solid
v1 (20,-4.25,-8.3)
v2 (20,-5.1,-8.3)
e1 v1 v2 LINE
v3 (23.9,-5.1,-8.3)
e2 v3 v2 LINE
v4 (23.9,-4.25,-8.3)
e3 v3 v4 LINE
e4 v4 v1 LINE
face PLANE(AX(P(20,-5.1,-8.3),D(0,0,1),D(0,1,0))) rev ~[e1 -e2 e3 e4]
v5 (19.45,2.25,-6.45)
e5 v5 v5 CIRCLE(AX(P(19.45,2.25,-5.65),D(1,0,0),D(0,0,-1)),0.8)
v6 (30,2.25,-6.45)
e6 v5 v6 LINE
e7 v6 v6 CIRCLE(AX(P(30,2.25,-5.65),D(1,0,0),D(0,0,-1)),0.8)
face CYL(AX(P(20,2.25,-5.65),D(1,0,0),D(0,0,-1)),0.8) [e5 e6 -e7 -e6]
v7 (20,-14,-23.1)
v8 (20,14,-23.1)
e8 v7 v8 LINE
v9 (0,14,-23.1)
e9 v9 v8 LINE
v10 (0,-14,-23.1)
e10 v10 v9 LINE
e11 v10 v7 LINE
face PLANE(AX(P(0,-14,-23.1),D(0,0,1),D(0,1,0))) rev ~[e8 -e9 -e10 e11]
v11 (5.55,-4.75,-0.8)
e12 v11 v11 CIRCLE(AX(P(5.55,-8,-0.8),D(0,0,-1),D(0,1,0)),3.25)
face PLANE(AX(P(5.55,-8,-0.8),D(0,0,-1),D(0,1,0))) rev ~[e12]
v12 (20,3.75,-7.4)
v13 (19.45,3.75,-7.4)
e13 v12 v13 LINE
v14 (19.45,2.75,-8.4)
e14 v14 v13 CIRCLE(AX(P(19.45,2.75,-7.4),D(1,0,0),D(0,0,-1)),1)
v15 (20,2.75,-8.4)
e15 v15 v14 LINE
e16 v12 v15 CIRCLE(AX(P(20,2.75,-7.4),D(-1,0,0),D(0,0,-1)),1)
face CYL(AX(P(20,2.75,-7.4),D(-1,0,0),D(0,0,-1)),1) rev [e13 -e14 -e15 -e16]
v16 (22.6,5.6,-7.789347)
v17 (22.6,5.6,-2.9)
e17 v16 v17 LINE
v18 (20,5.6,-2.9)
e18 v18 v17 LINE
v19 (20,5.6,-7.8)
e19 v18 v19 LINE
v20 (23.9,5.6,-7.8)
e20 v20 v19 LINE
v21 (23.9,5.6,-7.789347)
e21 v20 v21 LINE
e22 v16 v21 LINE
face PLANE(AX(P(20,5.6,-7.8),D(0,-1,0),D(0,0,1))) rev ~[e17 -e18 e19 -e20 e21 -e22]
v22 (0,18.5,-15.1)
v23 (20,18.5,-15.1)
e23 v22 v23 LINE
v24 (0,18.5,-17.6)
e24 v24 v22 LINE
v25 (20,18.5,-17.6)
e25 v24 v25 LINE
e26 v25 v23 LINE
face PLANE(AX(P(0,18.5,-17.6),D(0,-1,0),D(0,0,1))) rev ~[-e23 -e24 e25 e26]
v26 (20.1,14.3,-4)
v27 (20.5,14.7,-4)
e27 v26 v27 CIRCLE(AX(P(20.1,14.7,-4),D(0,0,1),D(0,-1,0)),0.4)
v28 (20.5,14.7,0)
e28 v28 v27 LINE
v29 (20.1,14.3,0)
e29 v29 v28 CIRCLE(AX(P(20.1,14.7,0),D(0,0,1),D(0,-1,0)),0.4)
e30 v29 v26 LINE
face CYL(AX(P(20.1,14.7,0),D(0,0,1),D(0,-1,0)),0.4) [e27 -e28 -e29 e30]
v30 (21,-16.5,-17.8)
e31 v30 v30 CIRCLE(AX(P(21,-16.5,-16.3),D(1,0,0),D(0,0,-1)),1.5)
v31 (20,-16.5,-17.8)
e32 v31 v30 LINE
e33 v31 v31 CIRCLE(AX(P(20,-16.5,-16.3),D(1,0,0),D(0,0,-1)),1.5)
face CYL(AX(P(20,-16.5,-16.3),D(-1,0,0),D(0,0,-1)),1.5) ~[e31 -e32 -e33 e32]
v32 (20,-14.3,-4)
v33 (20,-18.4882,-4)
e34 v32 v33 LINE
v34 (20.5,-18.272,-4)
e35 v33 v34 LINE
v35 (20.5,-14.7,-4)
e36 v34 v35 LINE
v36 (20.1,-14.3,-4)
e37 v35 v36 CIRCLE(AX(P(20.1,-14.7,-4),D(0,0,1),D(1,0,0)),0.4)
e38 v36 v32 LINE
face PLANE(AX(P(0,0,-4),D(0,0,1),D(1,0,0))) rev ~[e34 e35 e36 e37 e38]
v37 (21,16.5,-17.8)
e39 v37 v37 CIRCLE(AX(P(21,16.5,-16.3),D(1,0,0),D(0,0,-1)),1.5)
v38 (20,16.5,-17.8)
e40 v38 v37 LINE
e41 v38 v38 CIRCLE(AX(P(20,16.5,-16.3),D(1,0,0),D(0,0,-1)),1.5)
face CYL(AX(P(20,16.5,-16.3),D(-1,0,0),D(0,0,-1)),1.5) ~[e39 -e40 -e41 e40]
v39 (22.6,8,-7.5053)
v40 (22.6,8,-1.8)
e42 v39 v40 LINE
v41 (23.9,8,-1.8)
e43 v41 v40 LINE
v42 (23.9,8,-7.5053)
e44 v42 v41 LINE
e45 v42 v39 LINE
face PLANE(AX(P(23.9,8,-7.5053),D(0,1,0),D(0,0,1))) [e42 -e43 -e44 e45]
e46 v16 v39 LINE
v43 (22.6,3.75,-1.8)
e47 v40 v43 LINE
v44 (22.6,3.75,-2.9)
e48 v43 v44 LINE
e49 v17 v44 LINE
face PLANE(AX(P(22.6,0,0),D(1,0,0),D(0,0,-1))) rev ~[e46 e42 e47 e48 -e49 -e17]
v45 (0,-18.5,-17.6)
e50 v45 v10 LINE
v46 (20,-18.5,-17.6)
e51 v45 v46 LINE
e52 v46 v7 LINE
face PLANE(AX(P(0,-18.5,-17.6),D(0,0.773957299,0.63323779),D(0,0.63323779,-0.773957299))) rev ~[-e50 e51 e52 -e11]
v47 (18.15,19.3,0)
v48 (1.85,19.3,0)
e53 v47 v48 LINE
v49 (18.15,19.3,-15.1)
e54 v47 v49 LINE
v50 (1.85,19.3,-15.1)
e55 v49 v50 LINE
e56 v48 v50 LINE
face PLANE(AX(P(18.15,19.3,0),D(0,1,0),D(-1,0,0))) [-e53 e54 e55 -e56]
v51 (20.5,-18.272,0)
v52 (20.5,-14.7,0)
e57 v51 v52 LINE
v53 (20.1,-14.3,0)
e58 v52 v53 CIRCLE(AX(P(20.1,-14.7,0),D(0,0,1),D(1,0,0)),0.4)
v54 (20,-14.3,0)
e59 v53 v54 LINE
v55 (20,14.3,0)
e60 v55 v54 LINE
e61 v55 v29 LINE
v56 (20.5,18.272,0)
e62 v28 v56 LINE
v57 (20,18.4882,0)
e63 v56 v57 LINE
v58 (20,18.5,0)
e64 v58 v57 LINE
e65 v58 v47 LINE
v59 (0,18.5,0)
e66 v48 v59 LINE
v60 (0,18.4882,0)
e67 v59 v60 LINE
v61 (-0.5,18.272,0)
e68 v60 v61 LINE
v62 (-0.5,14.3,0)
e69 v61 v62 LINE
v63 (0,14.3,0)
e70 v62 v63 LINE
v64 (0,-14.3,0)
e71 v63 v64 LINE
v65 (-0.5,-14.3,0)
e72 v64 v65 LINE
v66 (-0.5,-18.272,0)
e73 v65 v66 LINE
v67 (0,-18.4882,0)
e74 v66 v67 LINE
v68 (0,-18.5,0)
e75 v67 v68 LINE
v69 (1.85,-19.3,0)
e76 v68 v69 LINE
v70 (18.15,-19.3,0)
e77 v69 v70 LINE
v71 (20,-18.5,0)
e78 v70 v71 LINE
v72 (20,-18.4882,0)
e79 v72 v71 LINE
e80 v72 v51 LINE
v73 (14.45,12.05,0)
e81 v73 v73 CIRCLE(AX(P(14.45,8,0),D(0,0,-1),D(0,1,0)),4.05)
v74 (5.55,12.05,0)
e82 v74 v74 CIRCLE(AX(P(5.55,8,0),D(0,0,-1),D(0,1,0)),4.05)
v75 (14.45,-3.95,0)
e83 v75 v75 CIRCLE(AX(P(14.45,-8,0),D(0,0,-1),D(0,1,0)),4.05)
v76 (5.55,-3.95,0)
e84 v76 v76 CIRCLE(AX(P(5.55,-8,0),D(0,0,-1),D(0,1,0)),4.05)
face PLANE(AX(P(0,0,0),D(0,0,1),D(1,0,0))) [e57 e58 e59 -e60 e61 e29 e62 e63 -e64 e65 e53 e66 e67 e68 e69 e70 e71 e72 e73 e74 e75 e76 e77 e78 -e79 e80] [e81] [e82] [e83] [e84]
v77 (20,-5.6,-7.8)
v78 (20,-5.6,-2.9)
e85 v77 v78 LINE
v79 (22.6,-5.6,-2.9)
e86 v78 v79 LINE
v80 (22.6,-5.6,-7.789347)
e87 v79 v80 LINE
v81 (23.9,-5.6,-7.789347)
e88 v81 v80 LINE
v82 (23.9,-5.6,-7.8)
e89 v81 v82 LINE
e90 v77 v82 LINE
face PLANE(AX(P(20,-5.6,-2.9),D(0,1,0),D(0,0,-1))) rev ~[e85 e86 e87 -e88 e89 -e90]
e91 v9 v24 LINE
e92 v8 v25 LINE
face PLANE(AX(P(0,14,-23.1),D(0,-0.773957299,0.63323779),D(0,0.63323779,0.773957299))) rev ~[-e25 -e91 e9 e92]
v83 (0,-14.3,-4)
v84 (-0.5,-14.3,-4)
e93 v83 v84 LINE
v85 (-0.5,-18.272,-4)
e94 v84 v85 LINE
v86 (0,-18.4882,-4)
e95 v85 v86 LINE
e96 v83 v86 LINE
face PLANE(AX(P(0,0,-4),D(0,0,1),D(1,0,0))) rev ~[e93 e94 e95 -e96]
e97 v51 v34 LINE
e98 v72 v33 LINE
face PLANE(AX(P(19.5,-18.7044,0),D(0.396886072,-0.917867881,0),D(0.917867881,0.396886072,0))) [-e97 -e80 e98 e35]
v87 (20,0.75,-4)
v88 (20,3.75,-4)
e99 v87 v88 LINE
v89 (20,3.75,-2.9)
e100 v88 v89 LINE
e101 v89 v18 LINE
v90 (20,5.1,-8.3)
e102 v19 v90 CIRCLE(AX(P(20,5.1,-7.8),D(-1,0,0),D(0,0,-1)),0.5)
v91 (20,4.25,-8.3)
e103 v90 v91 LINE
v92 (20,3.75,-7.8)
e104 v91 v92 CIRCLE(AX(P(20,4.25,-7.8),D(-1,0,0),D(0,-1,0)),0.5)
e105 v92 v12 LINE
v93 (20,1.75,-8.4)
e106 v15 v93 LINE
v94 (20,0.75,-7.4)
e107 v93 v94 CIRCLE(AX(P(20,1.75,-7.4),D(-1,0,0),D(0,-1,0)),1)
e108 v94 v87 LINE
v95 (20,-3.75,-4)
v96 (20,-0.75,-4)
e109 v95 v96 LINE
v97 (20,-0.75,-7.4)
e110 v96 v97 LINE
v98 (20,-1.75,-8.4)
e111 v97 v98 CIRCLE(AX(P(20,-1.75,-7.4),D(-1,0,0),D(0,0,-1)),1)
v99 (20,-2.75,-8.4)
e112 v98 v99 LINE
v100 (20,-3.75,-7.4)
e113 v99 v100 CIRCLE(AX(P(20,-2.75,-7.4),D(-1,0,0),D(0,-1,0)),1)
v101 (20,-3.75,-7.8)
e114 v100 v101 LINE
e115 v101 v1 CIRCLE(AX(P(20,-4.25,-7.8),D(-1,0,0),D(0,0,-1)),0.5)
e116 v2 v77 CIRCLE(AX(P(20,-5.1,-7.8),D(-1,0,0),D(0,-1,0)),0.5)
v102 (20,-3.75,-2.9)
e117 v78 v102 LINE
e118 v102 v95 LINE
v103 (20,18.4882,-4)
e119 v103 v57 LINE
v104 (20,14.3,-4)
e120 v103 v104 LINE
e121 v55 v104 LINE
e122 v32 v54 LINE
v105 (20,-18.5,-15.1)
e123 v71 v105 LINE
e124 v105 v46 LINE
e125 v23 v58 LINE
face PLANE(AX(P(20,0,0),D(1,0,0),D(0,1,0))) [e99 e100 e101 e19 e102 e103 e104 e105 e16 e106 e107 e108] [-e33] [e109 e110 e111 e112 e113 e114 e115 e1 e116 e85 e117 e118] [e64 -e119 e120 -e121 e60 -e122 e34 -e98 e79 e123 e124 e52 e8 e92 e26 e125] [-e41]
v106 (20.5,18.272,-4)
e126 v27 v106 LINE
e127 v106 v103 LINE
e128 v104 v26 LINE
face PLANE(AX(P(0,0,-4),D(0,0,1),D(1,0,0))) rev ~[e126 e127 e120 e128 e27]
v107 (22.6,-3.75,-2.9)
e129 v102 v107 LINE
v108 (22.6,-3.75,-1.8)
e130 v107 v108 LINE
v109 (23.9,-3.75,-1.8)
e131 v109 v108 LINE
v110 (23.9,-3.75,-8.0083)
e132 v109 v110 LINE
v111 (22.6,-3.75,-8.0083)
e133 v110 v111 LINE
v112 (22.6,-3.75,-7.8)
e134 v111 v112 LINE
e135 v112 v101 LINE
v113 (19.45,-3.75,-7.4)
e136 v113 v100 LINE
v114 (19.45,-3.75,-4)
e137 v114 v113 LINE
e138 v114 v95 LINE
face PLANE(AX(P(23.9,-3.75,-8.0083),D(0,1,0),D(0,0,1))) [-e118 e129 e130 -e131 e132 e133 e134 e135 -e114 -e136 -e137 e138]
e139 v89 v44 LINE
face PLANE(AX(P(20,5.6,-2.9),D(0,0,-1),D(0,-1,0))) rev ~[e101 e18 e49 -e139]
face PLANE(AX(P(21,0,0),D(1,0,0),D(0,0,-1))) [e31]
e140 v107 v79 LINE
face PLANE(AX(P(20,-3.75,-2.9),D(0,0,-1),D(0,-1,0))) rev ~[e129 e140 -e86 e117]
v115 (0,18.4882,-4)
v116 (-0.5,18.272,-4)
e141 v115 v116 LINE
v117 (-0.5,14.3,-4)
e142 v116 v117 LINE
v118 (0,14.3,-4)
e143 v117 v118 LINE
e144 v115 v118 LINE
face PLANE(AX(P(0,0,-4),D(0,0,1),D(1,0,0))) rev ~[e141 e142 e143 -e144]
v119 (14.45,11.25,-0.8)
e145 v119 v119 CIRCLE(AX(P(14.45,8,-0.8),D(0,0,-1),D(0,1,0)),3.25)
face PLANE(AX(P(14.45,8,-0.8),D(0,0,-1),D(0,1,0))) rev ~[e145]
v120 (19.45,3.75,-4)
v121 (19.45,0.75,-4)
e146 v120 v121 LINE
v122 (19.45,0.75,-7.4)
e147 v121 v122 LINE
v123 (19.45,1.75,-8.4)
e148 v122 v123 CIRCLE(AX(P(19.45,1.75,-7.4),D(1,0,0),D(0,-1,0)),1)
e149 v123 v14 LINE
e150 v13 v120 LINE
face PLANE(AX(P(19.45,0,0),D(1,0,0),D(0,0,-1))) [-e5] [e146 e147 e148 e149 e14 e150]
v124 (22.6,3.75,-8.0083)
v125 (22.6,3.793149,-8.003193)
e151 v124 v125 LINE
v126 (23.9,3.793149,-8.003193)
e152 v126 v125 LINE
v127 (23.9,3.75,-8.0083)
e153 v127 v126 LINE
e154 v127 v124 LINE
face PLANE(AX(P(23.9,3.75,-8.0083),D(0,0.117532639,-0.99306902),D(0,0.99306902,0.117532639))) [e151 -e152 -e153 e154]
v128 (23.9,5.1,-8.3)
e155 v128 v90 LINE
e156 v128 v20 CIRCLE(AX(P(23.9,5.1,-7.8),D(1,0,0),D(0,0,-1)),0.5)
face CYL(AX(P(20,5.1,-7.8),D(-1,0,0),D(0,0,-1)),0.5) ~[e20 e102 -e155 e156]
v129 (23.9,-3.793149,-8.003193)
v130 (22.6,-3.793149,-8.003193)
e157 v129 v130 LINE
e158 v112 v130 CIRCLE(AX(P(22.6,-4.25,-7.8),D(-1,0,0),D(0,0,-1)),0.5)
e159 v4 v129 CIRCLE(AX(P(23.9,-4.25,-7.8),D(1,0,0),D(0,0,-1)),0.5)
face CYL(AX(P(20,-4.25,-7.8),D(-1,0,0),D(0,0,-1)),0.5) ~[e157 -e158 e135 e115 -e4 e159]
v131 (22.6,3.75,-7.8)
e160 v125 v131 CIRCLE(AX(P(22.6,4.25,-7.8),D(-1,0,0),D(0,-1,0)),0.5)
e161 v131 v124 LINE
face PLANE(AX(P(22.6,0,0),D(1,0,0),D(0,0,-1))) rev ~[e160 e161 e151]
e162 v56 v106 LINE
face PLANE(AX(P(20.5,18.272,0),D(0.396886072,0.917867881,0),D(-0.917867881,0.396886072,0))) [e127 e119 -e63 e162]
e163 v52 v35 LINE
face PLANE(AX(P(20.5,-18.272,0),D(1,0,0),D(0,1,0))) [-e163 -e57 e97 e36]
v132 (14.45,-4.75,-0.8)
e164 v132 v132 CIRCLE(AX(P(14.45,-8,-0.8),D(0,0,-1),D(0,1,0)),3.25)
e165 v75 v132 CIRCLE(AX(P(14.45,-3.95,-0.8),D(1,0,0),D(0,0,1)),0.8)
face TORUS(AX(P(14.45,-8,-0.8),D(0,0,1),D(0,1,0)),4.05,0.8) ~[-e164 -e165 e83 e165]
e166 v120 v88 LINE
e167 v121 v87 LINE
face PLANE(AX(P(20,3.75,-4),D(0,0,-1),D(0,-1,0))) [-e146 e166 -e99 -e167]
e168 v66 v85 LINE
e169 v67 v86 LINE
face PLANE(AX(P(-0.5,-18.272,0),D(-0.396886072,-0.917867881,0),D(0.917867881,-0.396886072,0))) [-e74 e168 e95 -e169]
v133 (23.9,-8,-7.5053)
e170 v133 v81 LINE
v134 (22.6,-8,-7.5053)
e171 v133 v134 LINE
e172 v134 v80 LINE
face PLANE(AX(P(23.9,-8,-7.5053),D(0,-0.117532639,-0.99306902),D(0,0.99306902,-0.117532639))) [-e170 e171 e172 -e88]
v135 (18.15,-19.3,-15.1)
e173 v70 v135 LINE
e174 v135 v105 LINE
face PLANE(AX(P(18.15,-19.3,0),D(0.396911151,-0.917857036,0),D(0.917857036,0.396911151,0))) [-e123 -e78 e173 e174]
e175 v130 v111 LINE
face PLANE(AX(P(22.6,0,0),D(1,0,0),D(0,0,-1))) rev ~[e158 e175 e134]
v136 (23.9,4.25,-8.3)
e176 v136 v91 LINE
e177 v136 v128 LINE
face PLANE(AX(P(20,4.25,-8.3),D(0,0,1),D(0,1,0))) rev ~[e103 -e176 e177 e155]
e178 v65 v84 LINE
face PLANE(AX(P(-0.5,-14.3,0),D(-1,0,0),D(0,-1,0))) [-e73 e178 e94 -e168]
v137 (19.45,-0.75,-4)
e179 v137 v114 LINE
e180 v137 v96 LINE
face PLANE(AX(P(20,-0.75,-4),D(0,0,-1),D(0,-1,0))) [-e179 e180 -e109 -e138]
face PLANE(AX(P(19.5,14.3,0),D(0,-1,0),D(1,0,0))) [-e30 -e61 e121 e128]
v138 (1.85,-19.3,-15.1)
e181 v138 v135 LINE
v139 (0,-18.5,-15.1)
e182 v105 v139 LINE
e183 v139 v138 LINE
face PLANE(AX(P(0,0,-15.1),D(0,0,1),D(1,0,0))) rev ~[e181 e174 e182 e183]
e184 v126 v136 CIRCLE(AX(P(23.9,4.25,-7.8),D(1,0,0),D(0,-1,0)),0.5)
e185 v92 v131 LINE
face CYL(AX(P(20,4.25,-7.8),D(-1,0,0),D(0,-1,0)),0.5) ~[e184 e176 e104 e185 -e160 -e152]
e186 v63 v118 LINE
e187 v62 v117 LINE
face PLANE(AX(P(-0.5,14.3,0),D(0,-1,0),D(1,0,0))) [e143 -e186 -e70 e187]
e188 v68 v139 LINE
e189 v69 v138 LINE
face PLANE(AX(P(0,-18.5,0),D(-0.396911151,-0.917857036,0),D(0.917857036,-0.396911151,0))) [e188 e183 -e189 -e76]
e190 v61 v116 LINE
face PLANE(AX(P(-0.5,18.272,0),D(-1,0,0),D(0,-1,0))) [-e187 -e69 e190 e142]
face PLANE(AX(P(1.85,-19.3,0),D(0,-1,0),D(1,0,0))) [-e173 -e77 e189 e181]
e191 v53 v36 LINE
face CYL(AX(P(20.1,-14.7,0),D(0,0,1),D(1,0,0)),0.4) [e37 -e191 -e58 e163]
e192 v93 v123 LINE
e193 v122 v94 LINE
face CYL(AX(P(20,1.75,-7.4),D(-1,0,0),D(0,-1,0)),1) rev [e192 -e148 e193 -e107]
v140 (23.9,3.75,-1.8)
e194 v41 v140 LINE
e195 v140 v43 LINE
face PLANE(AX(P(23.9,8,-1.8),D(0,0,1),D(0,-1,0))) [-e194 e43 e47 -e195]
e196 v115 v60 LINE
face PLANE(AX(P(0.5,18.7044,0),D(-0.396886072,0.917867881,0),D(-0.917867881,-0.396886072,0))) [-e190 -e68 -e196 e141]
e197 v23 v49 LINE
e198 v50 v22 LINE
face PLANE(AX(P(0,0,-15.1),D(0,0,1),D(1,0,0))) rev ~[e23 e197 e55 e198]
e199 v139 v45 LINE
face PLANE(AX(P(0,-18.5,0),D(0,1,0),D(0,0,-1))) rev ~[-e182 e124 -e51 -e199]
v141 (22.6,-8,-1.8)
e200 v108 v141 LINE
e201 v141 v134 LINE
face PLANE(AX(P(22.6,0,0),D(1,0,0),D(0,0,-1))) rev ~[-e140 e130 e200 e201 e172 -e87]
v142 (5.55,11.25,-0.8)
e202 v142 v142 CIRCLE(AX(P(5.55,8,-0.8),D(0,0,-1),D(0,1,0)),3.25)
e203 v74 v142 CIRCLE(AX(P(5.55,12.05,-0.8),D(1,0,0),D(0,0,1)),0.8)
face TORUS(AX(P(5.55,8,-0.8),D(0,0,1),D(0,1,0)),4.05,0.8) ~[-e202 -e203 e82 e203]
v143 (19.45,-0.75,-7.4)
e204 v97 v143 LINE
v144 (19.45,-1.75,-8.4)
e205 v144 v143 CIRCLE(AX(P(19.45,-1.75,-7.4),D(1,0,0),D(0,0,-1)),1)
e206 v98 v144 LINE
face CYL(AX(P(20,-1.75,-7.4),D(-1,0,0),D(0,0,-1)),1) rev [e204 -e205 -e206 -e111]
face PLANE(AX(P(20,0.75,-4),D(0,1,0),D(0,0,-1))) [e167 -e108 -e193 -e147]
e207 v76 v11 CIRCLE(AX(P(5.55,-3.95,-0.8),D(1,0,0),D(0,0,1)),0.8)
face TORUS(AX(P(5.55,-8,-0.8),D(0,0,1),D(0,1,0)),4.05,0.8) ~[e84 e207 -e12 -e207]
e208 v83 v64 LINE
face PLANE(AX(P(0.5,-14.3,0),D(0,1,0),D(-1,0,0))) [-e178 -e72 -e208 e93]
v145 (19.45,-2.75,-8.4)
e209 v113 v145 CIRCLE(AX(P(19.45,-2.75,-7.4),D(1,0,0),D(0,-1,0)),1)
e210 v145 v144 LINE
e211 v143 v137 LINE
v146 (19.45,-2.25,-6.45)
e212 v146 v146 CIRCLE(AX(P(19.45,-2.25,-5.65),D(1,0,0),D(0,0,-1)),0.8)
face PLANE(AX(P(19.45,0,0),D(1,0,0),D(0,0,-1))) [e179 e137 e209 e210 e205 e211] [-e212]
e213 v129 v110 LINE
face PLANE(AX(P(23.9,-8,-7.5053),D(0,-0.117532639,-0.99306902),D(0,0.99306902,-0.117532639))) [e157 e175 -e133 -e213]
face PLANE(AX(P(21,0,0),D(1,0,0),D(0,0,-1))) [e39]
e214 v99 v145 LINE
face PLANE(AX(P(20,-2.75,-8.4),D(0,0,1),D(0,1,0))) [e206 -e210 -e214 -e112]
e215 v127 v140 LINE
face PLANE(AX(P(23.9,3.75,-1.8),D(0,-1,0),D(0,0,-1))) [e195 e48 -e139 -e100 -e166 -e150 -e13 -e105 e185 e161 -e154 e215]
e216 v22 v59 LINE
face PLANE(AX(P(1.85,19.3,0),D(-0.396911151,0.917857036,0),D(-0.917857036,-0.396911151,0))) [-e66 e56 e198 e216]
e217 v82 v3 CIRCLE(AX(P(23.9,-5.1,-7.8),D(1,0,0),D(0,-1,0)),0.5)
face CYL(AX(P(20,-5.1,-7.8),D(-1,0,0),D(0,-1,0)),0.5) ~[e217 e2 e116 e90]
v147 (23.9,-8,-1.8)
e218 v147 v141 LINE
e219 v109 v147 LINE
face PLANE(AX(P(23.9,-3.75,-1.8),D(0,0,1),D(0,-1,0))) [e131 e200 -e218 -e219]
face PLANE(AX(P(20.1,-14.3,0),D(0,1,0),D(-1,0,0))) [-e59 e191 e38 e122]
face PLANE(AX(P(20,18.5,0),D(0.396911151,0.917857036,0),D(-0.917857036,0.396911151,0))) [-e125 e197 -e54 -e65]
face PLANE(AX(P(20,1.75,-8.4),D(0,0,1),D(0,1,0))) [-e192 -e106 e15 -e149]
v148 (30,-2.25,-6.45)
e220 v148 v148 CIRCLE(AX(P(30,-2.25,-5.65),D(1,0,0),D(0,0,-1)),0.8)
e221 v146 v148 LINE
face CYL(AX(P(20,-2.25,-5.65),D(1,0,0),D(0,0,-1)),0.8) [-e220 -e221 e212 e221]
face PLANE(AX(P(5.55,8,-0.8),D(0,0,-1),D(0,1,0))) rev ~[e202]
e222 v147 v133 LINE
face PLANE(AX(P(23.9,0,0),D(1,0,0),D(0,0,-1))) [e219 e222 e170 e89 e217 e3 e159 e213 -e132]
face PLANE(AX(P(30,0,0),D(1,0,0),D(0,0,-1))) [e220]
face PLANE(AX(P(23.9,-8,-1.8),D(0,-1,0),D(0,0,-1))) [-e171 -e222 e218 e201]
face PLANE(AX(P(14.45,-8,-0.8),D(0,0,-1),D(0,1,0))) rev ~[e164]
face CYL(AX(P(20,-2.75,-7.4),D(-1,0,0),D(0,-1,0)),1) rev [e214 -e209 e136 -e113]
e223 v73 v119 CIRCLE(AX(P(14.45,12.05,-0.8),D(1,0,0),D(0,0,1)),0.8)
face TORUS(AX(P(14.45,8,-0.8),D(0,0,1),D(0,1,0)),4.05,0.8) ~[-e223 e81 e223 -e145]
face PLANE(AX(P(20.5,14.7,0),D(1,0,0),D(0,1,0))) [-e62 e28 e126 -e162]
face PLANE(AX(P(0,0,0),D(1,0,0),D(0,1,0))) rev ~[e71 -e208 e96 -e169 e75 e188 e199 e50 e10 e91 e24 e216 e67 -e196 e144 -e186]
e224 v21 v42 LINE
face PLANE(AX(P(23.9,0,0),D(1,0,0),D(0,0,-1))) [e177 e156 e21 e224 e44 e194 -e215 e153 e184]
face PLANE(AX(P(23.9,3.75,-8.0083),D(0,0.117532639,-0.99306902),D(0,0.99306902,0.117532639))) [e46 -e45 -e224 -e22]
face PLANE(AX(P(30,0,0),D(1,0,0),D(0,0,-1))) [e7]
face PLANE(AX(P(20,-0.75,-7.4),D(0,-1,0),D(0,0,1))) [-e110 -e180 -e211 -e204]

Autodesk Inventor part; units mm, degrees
sketch "Sketch_1" plane through (0, 0, 0) normal (1, 0, 0) x (0, 1, 0)
  line L0 (-18.5, 0) -> (-18.5, -17.6)
  line L1 (-18.5, -17.6) -> (-14, -23.1)
  line L2 (-14, -23.1) -> (14, -23.1)
  line L3 (14, -23.1) -> (18.5, -17.6)
  line L4 (18.5, -17.6) -> (18.5, 0)
  line L5 (18.5, 0) -> (-18.5, 0)
extrude "Extrusion1" add sketch "Sketch_1" along normal blind 20
sketch "Sketch_2" plane through (0, 0, 0) normal (0, 0, 1) x (1, 0, 0)
  line L0 (0, 18.5) -> (20, 18.5)
  line L1 (20, 18.5) -> (18.15, 19.3)
  line L2 (18.15, 19.3) -> (1.85, 19.3)
  line L3 (1.85, 19.3) -> (0, 18.5)
extrude "Extrusion2" add sketch "Sketch_2" against normal blind 15.1
sketch "Sketch_3" plane through (0, 0, 0) normal (0, 0, 1) x (1, 0, 0)
  line L0 (0, -18.5) -> (1.85, -19.3)
  line L1 (1.85, -19.3) -> (18.15, -19.3)
  line L2 (18.15, -19.3) -> (20, -18.5)
  line L3 (20, -18.5) -> (0, -18.5)
extrude "Extrusion3" add sketch "Sketch_3" against normal blind 15.1
sketch "Sketch_4" plane through (0, 0, 0) normal (0, 0, 1) x (1, 0, 0)
  line L0 (-0.5, 18.272) -> (-0.5, 14.3)
  line L1 (-0.5, 14.3) -> (0.5, 14.3)
  line L2 (0.5, 14.3) -> (0.5, 18.7044)
  line L3 (0.5, 18.7044) -> (-0.5, 18.272)
extrude "Extrusion4" add sketch "Sketch_4" against normal blind 4
sketch "Sketch_5" plane through (0, 0, 0) normal (0, 0, 1) x (1, 0, 0)
  line L0 (19.5, 18.7044) -> (19.5, 14.3)
  line L1 (19.5, 14.3) -> (20.1, 14.3)
  arc A0 (20.1, 14.3) -> (20.5, 14.7) centre (20.1, 14.7) ccw
  line L2 (20.5, 14.7) -> (20.5, 18.272)
  line L3 (20.5, 18.272) -> (19.5, 18.7044)
extrude "Extrusion5" add sketch "Sketch_5" against normal blind 4
sketch "Sketch_6" plane through (0, 0, 0) normal (0, 0, 1) x (1, 0, 0)
  line L0 (-0.5, -18.272) -> (0.5, -18.7044)
  line L1 (0.5, -18.7044) -> (0.5, -14.3)
  line L2 (0.5, -14.3) -> (-0.5, -14.3)
  line L3 (-0.5, -14.3) -> (-0.5, -18.272)
extrude "Extrusion6" add sketch "Sketch_6" against normal blind 4
sketch "Sketch_7" plane through (0, 0, 0) normal (0, 0, 1) x (1, 0, 0)
  line L0 (19.5, -18.7044) -> (20.5, -18.272)
  line L1 (20.5, -18.272) -> (20.5, -14.7)
  arc A0 (20.5, -14.7) -> (20.1, -14.3) centre (20.1, -14.7) ccw
  line L2 (20.1, -14.3) -> (19.5, -14.3)
  line L3 (19.5, -14.3) -> (19.5, -18.7044)
extrude "Extrusion7" add sketch "Sketch_7" against normal blind 4
sketch "Sketch_8" plane through (20, 0, 0) normal (1, 0, 0) x (0, 0, -1)
  circle A0 centre (16.3, 16.5) radius 1.5
extrude "Extrusion8" add sketch "Sketch_8" along normal mid plane 2
sketch "Sketch_9" plane through (20, 0, 0) normal (1, 0, 0) x (0, 0, -1)
  circle A0 centre (16.3, -16.5) radius 1.5
extrude "Extrusion9" add sketch "Sketch_9" along normal mid plane 2
sketch "Sketch_10" plane through (5.55, 0, 0) normal (1, 0, 0) x (0, 0, -1)
  line L0 (0.8, 8) -> (-1.2, 8)
  line L1 (-1.2, 8) -> (-1.2, 12.05)
  line L2 (-1.2, 12.05) -> (0, 12.05)
  arc A0 (0, 12.05) -> (0.8, 11.25) centre (0.8, 12.05) ccw
  line L3 (0.8, 11.25) -> (0.8, 8)
  line L4 (0.8, 8) -> (-1.2, 8)
revolve "Revolution1" cut sketch "Sketch_10" angle 360 about axis through (5.55, 8, -0.8) along (0, 0, -1)
sketch "Sketch_11" plane through (14.45, 0, 0) normal (1, 0, 0) x (0, 0, -1)
  line L0 (0.8, 8) -> (-1.2, 8)
  line L1 (-1.2, 8) -> (-1.2, 12.05)
  line L2 (-1.2, 12.05) -> (0, 12.05)
  arc A0 (0, 12.05) -> (0.8, 11.25) centre (0.8, 12.05) ccw
  line L3 (0.8, 11.25) -> (0.8, 8)
  line L4 (0.8, 8) -> (-1.2, 8)
revolve "Revolution2" cut sketch "Sketch_11" angle 360 about axis through (14.45, 8, -0.8) along (0, 0, -1)
sketch "Sketch_12" plane through (5.55, 0, 0) normal (1, 0, 0) x (0, 0, -1)
  line L0 (0.8, -8) -> (-1.2, -8)
  line L1 (-1.2, -8) -> (-1.2, -3.95)
  line L2 (-1.2, -3.95) -> (0, -3.95)
  arc A0 (0, -3.95) -> (0.8, -4.75) centre (0.8, -3.95) ccw
  line L3 (0.8, -4.75) -> (0.8, -8)
  line L4 (0.8, -8) -> (-1.2, -8)
revolve "Revolution3" cut sketch "Sketch_12" angle 360 about axis through (5.55, -8, -0.8) along (0, 0, -1)
sketch "Sketch_13" plane through (14.45, 0, 0) normal (1, 0, 0) x (0, 0, -1)
  line L0 (0.8, -8) -> (-1.2, -8)
  line L1 (-1.2, -8) -> (-1.2, -3.95)
  line L2 (-1.2, -3.95) -> (0, -3.95)
  arc A0 (0, -3.95) -> (0.8, -4.75) centre (0.8, -3.95) ccw
  line L3 (0.8, -4.75) -> (0.8, -8)
  line L4 (0.8, -8) -> (-1.2, -8)
revolve "Revolution4" cut sketch "Sketch_13" angle 360 about axis through (14.45, -8, -0.8) along (0, 0, -1)
sketch "Sketch_14" plane through (20, 0, 0) normal (1, 0, 0) x (0, 0, -1)
  line L0 (2.9, 5.6) -> (2.9, 3.75)
  line L1 (2.9, 3.75) -> (7.8, 3.75)
  arc A0 (7.8, 3.75) -> (8.3, 4.25) centre (7.8, 4.25) ccw
  line L2 (8.3, 4.25) -> (8.3, 5.1)
  arc A1 (8.3, 5.1) -> (7.8, 5.6) centre (7.8, 5.1) ccw
  line L3 (7.8, 5.6) -> (2.9, 5.6)
extrude "Extrusion10" add sketch "Sketch_14" along normal mid plane 7.8
sketch "Sketch_15" plane through (20, 0, 0) normal (1, 0, 0) x (0, 0, -1)
  line L0 (2.9, -3.75) -> (2.9, -5.6)
  line L1 (2.9, -5.6) -> (7.8, -5.6)
  arc A0 (7.8, -5.6) -> (8.3, -5.1) centre (7.8, -5.1) ccw
  line L2 (8.3, -5.1) -> (8.3, -4.25)
  arc A1 (8.3, -4.25) -> (7.8, -3.75) centre (7.8, -4.25) ccw
  line L3 (7.8, -3.75) -> (2.9, -3.75)
extrude "Extrusion11" add sketch "Sketch_15" along normal mid plane 7.8
sketch "Sketch_16" plane through (23.9, 0, 0) normal (1, 0, 0) x (0, 0, -1)
  line L0 (1.8, 3.75) -> (8.0083, 3.75)
  line L1 (8.0083, 3.75) -> (7.5053, 8)
  line L2 (7.5053, 8) -> (1.8, 8)
  line L3 (1.8, 8) -> (1.8, 3.75)
extrude "Extrusion12" add sketch "Sketch_16" against normal blind 1.3
sketch "Sketch_17" plane through (23.9, 0, 0) normal (1, 0, 0) x (0, 0, -1)
  line L0 (1.8, -3.75) -> (1.8, -8)
  line L1 (1.8, -8) -> (7.5053, -8)
  line L2 (7.5053, -8) -> (8.0083, -3.75)
  line L3 (8.0083, -3.75) -> (1.8, -3.75)
extrude "Extrusion13" add sketch "Sketch_17" against normal blind 1.3
sketch "Sketch_19" plane through (20, 0, 0) normal (1, 0, 0) x (0, 0, -1)
  line L0 (4, 3.75) -> (4, 0.75)
  line L1 (4, 0.75) -> (7.4, 0.75)
  arc A0 (7.4, 0.75) -> (8.4, 1.75) centre (7.4, 1.75) ccw
  line L2 (8.4, 1.75) -> (8.4, 2.75)
  arc A1 (8.4, 2.75) -> (7.4, 3.75) centre (7.4, 2.75) ccw
  line L3 (7.4, 3.75) -> (4, 3.75)
extrude "Extrusion14" cut sketch "Sketch_19" along normal mid plane 1.1
sketch "Sketch_20" plane through (20, 0, 0) normal (1, 0, 0) x (0, 0, -1)
  line L0 (4, -0.75) -> (4, -3.75)
  line L1 (4, -3.75) -> (7.4, -3.75)
  arc A0 (7.4, -3.75) -> (8.4, -2.75) centre (7.4, -2.75) ccw
  line L2 (8.4, -2.75) -> (8.4, -1.75)
  arc A1 (8.4, -1.75) -> (7.4, -0.75) centre (7.4, -1.75) ccw
  line L3 (7.4, -0.75) -> (4, -0.75)
extrude "Extrusion15" cut sketch "Sketch_20" along normal mid plane 1.1
sketch "Sketch_21" plane through (20, 0, 0) normal (1, 0, 0) x (0, 0, -1)
  circle A0 centre (5.65, 2.25) radius 0.8
extrude "Extrusion16" add sketch "Sketch_21" along normal mid plane 20
sketch "Sketch_22" plane through (20, 0, 0) normal (1, 0, 0) x (0, 0, -1)
  circle A0 centre (5.65, -2.25) radius 0.8
extrude "Extrusion17" add sketch "Sketch_22" along normal mid plane 20
ref_plane "2p1_XY" through (0, 0, 0) normal (0, 0, -1) x (1, 0, 0)
ref_plane "2p1_YZ" through (0, 0, 0) normal (1, 0, 0) x (0, -1, 0)
ref_plane "2p1_ZX" through (0, 0, 0) normal (0, -1, 0) x (0, 0, -1)
properties part number "259434_part2"
